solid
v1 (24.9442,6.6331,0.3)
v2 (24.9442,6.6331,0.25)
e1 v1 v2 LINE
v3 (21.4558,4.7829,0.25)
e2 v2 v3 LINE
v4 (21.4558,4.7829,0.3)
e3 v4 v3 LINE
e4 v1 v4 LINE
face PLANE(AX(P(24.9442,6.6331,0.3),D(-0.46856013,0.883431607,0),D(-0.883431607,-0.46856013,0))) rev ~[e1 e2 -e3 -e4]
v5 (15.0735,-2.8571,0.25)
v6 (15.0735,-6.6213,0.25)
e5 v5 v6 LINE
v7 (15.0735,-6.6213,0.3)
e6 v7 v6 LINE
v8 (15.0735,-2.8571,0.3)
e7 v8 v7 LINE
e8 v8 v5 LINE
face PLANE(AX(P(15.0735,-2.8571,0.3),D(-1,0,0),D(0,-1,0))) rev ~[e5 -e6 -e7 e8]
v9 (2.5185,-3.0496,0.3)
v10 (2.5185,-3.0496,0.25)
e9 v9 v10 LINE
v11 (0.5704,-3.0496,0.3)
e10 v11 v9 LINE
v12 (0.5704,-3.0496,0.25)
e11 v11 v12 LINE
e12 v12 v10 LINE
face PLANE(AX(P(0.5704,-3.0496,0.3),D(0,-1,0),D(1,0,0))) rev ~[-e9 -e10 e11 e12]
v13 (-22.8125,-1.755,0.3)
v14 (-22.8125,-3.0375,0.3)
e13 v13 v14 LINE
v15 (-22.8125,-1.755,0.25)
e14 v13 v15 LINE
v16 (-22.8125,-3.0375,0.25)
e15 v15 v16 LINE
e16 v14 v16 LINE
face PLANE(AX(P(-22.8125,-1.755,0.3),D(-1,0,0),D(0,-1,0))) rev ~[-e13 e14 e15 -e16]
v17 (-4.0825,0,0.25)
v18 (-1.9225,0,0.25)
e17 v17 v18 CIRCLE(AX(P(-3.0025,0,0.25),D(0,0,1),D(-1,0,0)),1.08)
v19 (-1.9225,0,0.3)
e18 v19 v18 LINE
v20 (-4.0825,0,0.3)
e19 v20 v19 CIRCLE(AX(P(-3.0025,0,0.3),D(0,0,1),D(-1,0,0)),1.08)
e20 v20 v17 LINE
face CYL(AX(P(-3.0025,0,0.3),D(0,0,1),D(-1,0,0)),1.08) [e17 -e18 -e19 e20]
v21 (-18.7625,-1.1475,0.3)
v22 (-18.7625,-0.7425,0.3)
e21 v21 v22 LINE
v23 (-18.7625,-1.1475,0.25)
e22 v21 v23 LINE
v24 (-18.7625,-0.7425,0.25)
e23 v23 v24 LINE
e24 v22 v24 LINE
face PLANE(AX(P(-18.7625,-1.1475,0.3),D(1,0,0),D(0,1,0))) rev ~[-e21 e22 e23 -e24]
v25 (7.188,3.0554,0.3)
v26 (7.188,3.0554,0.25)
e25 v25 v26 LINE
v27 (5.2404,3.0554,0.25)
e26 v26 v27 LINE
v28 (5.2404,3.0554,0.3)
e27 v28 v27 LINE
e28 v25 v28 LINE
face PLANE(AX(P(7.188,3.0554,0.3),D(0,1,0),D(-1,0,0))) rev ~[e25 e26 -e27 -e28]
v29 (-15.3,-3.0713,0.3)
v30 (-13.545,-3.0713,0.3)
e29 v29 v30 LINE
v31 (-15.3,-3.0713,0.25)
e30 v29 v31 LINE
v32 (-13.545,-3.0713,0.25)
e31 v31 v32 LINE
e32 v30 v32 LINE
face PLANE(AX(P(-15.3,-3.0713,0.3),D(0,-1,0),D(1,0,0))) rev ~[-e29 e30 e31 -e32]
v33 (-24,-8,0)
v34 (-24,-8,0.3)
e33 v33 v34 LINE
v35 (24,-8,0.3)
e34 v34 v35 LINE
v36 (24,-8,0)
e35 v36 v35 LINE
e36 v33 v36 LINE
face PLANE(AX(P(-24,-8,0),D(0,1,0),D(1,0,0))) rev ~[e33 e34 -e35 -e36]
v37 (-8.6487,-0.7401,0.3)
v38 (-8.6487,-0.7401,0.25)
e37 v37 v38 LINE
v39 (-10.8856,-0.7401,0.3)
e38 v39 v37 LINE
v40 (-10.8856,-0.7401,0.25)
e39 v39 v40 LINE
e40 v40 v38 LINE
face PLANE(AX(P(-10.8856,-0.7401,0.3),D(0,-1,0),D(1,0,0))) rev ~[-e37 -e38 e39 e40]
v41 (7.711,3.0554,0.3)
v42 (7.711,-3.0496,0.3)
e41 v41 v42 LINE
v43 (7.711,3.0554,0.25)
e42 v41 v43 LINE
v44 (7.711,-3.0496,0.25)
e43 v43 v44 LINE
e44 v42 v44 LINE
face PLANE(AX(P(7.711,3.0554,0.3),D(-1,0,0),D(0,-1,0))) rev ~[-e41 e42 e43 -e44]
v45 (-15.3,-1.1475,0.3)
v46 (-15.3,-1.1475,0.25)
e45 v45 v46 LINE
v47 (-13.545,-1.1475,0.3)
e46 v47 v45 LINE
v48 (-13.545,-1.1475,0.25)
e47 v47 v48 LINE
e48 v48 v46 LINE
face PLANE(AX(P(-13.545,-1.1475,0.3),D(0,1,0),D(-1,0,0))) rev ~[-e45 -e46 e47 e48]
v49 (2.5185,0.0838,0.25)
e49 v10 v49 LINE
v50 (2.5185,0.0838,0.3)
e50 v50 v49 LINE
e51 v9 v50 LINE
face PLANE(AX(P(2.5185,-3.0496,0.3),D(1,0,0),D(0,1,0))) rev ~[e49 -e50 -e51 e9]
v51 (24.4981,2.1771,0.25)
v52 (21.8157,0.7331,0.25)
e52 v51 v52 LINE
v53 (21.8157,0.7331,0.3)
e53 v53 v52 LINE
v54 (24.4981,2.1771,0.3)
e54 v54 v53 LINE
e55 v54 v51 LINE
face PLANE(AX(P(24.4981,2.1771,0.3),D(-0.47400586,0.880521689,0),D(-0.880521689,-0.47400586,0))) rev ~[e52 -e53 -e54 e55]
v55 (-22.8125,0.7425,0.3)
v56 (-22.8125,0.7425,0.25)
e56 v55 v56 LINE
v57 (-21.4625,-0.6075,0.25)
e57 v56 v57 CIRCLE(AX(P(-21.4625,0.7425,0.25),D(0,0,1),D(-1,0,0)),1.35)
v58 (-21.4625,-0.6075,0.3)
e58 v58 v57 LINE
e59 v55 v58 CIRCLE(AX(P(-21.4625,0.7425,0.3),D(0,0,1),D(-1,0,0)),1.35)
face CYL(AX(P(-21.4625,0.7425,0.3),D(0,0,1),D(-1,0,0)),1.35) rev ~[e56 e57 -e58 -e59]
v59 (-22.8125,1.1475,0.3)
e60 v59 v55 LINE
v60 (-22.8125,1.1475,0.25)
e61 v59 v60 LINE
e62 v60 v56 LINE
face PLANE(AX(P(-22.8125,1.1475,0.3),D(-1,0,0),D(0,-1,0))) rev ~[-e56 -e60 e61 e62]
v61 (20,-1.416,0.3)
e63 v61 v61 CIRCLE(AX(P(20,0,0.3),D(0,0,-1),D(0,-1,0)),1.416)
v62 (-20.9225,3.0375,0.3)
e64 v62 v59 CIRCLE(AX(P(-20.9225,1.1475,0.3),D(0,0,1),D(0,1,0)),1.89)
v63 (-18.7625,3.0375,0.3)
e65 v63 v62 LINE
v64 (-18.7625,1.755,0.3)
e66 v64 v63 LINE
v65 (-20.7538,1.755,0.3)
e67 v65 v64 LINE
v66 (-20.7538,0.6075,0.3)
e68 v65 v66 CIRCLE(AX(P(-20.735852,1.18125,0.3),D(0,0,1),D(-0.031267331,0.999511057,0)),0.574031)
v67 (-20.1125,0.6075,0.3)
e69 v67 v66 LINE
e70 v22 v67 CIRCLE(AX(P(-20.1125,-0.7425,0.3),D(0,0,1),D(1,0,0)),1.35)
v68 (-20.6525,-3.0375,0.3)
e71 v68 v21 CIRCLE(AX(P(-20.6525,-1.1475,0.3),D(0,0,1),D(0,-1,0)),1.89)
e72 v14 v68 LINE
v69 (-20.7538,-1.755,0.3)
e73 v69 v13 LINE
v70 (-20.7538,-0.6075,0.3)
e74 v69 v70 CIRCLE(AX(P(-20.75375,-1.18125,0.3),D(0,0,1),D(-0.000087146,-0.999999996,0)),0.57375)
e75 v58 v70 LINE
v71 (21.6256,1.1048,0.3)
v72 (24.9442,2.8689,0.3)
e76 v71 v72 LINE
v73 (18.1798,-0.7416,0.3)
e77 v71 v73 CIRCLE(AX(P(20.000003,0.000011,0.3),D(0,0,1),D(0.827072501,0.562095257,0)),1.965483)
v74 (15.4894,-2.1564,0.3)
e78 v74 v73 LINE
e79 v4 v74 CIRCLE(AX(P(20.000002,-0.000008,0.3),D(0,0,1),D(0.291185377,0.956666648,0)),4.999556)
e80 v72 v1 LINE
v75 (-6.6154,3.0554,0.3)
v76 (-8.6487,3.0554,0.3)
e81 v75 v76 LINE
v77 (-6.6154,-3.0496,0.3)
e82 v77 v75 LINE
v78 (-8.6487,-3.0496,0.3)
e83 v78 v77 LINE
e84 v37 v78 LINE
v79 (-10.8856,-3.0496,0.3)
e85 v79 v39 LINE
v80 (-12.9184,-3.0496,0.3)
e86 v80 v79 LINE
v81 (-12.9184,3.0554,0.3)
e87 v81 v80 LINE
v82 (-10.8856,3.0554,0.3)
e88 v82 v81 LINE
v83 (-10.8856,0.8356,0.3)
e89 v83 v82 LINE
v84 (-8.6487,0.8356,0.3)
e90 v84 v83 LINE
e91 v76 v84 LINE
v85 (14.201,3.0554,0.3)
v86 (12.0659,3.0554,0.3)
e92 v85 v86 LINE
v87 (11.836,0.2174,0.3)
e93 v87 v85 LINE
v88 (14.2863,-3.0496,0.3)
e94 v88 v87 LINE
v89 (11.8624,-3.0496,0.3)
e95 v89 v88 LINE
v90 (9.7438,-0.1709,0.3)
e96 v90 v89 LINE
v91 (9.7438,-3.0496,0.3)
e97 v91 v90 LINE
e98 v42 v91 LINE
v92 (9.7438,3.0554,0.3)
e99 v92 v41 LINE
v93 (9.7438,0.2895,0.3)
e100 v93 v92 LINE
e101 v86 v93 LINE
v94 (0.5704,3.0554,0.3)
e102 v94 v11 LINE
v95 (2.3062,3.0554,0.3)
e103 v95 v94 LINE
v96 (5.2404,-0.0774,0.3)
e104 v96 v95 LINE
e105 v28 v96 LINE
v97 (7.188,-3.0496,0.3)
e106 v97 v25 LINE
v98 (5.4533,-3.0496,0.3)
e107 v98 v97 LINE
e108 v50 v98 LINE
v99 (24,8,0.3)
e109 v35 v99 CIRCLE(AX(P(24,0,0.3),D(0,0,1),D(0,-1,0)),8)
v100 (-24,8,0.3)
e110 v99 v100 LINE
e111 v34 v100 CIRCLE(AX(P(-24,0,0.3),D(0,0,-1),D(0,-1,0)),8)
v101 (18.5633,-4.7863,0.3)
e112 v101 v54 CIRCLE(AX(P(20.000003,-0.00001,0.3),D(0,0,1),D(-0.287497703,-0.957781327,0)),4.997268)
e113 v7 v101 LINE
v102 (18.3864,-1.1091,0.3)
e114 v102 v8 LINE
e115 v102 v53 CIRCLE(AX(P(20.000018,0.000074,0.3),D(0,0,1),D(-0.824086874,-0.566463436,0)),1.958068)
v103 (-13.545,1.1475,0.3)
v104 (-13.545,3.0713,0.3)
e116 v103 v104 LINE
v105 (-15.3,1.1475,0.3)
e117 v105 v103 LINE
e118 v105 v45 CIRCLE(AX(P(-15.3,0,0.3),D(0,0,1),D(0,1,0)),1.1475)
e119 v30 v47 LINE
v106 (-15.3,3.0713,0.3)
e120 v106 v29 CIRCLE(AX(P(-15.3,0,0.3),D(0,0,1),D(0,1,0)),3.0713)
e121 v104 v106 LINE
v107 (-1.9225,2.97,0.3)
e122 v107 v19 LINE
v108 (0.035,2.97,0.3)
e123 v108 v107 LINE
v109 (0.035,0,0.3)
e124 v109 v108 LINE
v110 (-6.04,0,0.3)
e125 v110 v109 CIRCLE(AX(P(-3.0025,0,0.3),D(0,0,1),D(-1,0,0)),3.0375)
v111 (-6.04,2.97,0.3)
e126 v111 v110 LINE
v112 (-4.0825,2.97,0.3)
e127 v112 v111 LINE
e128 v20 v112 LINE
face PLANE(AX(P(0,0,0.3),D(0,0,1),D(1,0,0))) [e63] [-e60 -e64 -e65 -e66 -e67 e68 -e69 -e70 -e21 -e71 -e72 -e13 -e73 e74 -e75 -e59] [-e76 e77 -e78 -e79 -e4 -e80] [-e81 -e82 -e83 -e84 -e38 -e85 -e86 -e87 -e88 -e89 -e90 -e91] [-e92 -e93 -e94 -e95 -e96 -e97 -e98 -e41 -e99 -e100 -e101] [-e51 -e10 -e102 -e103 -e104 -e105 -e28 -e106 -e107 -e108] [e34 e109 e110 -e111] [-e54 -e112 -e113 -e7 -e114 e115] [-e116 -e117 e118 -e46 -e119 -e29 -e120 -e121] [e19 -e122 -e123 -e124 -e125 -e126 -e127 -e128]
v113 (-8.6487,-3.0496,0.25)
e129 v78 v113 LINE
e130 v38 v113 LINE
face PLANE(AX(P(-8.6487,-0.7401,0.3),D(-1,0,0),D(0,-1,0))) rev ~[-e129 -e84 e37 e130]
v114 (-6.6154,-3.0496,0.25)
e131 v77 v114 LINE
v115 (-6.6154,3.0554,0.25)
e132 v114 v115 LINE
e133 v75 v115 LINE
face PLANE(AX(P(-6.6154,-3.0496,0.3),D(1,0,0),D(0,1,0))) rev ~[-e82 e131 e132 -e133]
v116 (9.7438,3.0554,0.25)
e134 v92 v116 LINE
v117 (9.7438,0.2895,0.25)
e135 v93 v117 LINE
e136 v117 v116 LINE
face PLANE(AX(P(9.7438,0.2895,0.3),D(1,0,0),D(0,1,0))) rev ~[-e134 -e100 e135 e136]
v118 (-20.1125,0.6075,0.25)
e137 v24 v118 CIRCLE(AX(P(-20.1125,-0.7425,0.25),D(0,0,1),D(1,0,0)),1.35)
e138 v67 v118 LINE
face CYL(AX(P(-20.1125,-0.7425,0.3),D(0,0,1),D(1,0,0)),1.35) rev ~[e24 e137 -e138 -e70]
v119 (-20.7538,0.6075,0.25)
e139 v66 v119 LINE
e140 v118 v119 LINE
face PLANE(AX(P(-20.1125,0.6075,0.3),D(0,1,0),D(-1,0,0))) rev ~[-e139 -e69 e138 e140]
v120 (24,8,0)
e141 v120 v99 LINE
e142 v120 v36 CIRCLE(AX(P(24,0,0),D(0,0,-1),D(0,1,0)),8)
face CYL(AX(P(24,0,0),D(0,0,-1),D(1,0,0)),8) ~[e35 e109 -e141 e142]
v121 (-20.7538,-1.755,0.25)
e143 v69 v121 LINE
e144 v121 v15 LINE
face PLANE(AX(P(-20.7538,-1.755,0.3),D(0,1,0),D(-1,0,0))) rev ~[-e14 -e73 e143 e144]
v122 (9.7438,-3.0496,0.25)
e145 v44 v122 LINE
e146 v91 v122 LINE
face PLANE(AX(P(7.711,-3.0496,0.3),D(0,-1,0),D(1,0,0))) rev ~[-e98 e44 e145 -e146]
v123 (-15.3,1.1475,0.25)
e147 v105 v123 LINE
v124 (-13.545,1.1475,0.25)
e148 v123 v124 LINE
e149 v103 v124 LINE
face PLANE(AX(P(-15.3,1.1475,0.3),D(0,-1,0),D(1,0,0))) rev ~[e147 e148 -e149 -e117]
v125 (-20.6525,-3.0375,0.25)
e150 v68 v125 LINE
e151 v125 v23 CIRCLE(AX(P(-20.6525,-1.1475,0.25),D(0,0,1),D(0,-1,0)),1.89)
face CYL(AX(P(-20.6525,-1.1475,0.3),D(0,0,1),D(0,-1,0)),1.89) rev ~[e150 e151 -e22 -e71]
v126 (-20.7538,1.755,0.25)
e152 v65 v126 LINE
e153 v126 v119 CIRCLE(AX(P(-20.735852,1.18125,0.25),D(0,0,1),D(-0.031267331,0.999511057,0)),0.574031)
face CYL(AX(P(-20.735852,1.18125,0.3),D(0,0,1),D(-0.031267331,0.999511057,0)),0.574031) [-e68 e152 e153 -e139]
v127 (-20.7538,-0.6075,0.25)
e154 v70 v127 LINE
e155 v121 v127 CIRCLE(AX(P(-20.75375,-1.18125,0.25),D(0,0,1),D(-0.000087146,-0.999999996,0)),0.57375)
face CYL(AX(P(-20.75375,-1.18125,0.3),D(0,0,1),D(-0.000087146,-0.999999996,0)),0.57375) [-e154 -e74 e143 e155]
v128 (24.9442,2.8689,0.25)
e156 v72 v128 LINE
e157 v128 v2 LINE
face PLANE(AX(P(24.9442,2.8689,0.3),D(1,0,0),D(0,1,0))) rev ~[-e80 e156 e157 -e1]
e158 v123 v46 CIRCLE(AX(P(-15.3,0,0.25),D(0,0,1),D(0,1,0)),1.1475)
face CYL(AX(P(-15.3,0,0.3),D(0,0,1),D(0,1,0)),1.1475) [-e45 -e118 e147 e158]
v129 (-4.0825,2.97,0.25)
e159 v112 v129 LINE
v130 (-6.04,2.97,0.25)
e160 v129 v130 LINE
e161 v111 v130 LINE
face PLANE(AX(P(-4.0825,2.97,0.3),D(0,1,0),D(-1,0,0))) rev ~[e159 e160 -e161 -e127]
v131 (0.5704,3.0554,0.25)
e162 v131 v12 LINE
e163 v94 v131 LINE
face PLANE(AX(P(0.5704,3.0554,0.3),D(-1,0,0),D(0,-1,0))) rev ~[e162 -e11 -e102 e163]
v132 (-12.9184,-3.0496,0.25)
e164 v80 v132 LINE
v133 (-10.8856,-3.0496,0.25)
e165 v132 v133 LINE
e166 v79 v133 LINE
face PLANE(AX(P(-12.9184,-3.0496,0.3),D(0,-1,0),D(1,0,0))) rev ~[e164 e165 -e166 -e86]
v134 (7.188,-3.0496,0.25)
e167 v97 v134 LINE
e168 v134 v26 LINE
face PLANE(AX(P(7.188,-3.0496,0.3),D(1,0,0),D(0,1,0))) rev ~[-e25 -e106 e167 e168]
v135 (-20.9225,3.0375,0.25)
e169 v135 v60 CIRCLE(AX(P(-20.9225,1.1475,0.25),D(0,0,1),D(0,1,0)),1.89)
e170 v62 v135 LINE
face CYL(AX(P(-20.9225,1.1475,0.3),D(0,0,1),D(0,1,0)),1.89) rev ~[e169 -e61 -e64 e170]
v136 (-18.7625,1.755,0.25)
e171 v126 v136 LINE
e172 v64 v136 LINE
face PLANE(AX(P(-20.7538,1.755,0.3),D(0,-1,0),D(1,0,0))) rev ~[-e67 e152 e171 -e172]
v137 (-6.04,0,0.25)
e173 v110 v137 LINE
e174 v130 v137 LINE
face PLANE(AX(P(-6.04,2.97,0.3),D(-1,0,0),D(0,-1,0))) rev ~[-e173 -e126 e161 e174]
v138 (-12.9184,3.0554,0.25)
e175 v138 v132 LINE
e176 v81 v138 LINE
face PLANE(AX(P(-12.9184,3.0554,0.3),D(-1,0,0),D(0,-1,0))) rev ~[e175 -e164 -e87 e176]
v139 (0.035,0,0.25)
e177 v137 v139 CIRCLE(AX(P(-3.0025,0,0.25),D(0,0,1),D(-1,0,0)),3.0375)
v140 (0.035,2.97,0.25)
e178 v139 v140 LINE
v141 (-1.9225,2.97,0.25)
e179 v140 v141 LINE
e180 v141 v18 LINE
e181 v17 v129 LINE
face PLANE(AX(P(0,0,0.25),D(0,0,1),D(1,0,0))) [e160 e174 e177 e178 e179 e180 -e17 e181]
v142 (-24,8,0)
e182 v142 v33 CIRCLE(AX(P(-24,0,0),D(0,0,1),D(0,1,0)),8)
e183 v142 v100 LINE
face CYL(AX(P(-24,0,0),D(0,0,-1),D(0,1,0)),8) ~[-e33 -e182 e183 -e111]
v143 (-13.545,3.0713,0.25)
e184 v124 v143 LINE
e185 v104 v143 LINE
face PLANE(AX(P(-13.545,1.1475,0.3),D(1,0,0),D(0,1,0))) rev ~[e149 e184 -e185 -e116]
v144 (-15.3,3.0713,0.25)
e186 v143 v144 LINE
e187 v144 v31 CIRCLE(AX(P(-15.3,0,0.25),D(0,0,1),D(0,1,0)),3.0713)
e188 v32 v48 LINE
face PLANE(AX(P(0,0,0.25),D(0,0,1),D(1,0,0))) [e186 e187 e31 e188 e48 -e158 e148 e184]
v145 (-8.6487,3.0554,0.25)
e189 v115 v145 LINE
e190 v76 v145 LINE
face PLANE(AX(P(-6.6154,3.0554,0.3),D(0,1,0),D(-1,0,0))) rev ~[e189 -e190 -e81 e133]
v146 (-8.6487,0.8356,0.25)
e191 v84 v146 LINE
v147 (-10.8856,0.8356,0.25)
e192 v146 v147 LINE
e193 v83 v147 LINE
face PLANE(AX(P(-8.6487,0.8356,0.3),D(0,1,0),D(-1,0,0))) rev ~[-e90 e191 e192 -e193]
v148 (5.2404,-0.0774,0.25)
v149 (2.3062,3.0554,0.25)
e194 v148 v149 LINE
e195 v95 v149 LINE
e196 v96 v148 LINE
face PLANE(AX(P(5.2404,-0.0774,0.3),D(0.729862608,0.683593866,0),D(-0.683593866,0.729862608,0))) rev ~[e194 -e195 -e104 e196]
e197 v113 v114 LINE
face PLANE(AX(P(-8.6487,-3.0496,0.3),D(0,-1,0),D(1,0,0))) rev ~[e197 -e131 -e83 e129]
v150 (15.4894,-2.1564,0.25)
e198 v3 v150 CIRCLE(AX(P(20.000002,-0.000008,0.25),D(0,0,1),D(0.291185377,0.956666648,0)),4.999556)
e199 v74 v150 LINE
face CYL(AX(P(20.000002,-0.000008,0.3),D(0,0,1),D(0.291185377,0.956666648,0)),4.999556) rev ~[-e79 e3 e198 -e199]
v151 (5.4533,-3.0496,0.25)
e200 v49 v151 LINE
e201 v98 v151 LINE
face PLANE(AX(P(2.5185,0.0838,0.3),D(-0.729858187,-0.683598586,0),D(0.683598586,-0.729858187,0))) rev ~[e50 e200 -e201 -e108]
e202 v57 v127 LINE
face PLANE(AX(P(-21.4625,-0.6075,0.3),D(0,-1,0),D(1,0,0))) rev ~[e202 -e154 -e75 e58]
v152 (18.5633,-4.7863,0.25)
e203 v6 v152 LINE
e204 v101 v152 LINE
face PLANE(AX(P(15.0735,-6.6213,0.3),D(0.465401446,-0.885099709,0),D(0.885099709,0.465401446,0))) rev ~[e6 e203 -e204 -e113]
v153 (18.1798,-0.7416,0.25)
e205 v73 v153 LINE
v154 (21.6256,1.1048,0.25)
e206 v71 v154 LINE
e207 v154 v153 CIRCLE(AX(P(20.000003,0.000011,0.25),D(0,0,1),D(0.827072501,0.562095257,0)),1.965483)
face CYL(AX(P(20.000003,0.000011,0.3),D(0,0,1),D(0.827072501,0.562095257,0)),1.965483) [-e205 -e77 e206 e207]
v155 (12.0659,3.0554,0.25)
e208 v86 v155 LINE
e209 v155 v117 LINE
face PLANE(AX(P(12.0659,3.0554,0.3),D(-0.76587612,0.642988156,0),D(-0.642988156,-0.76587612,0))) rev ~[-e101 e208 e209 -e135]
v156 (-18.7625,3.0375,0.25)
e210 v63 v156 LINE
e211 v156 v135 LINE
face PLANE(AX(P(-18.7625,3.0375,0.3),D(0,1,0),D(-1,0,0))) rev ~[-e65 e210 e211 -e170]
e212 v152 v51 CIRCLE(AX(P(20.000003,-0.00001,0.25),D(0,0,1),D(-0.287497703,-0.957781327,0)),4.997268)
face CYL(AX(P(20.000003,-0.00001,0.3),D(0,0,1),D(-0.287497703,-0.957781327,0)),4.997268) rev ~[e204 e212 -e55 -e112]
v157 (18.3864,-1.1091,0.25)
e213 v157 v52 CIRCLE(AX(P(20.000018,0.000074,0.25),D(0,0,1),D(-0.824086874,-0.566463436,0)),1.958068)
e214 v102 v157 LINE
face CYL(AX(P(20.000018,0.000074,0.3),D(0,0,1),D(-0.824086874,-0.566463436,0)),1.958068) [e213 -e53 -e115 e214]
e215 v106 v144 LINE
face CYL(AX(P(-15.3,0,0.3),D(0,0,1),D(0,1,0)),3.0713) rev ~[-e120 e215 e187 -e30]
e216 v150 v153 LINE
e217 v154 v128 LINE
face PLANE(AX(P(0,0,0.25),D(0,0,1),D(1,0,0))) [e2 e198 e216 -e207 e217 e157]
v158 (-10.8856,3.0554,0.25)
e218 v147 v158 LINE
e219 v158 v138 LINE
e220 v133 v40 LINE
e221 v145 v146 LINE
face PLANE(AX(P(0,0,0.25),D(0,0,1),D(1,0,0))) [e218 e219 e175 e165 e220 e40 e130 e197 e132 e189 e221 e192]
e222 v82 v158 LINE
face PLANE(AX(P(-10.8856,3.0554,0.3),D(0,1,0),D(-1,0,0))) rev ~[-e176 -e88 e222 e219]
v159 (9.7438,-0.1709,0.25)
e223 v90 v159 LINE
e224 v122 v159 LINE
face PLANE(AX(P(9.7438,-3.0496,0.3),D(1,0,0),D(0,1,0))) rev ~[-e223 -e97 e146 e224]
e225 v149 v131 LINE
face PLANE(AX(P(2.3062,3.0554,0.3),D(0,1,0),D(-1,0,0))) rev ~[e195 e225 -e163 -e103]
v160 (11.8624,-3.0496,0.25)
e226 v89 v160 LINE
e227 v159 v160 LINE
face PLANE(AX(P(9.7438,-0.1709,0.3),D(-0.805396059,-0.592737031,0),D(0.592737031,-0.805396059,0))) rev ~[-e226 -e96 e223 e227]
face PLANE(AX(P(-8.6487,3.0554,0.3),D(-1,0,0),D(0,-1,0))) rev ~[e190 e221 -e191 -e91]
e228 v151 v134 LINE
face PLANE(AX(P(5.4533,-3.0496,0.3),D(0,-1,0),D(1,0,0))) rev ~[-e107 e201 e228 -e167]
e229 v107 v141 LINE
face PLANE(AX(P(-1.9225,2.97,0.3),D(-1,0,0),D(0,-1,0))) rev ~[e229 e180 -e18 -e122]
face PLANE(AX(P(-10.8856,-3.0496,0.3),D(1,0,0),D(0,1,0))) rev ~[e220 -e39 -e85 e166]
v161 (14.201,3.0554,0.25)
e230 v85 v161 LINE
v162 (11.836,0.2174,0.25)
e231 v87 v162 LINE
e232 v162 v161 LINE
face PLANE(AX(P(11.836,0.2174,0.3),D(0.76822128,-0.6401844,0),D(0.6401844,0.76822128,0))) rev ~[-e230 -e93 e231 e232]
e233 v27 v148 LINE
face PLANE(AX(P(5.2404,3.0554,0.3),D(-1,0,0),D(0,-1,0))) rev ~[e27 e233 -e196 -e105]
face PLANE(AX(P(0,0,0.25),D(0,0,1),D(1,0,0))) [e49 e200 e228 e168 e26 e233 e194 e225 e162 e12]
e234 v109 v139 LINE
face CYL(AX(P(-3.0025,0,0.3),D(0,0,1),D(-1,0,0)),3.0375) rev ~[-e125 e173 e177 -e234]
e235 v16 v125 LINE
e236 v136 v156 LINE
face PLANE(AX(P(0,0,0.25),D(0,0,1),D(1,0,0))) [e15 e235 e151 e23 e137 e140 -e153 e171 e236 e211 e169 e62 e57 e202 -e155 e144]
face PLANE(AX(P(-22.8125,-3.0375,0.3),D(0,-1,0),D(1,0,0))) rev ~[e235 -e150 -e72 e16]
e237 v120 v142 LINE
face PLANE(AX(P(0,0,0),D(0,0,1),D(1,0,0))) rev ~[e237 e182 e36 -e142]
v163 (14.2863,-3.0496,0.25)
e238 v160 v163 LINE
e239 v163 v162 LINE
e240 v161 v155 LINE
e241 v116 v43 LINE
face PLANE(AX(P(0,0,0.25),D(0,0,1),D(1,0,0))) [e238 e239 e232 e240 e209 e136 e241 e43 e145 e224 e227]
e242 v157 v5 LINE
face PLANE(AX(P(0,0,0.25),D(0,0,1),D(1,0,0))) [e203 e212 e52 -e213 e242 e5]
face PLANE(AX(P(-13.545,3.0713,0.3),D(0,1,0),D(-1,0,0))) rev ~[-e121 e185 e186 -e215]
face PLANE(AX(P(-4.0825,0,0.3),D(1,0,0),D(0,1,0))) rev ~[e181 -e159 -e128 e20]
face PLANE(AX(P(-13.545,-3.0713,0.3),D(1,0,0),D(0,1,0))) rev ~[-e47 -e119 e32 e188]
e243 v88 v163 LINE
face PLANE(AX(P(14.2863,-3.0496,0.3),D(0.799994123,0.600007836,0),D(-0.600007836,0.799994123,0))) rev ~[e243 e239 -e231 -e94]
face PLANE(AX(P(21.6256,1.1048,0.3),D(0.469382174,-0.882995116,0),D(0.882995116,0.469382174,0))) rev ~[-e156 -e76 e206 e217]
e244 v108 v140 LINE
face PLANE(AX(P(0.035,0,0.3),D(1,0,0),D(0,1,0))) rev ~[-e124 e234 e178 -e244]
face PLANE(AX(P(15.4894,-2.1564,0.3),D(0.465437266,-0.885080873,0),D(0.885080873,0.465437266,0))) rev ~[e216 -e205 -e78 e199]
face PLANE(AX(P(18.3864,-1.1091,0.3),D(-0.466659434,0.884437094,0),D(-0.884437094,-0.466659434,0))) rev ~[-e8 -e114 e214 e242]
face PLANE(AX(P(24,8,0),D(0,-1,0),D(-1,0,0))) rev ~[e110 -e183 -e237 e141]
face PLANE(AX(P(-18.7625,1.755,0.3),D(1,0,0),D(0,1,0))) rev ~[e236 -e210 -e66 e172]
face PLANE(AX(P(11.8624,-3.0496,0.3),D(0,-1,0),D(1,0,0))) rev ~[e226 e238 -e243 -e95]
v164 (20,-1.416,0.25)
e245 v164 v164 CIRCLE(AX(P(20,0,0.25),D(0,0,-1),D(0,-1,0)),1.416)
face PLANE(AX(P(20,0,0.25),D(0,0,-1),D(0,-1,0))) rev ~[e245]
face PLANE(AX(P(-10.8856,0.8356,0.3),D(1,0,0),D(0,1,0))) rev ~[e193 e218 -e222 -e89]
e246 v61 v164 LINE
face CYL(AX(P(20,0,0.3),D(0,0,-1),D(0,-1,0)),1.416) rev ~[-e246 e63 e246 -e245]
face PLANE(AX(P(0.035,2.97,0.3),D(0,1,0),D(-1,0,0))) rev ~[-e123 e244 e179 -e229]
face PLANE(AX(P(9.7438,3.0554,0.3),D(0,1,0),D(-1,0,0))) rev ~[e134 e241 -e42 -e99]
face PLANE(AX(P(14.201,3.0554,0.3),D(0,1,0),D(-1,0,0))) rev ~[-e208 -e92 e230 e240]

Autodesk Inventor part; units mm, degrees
sketch "Sketch_1" plane through (0, 0, 0) normal (0, 0, 1) x (1, 0, 0)
  arc A0 (-32, 0) -> (-24, -8) centre (-24, 0) ccw
  line L0 (-24, -8) -> (24, -8)
  arc A1 (24, -8) -> (32, 0) centre (24, 0) ccw
  arc A2 (32, 0) -> (24, 8) centre (24, 0) ccw
  line L1 (24, 8) -> (-24, 8)
  arc A3 (-24, 8) -> (-32, 0) centre (-24, 0) ccw
extrude "Extrusion1" add sketch "Sketch_1" along normal blind 0.3
sketch "Sketch_13" plane through (0, 0, 0.3) normal (0, 0, 1) x (1, 0, 0)
  line L0 (-12.9184, 3.0554) -> (-12.9184, -3.0496)
  line L1 (-12.9184, -3.0496) -> (-10.8856, -3.0496)
  line L2 (-10.8856, -3.0496) -> (-10.8856, -0.7401)
  line L3 (-10.8856, -0.7401) -> (-8.6487, -0.7401)
  line L4 (-8.6487, -0.7401) -> (-8.6487, -3.0496)
  line L5 (-8.6487, -3.0496) -> (-6.6154, -3.0496)
  line L6 (-6.6154, -3.0496) -> (-6.6154, 3.0554)
  line L7 (-6.6154, 3.0554) -> (-8.6487, 3.0554)
  line L8 (-8.6487, 3.0554) -> (-8.6487, 0.8356)
  line L9 (-8.6487, 0.8356) -> (-10.8856, 0.8356)
  line L10 (-10.8856, 0.8356) -> (-10.8856, 3.0554)
  line L11 (-10.8856, 3.0554) -> (-12.9184, 3.0554)
extrude "Extrusion2" cut sketch "Sketch_13" against normal blind 0.05
sketch "Sketch_15" plane through (0, 0, 0.3) normal (0, 0, 1) x (1, 0, 0)
  line L0 (0.5704, 3.0554) -> (0.5704, -3.0496)
  line L1 (0.5704, -3.0496) -> (2.5185, -3.0496)
  line L2 (2.5185, -3.0496) -> (2.5185, 0.0838)
  line L3 (2.5185, 0.0838) -> (5.4533, -3.0496)
  line L4 (5.4533, -3.0496) -> (7.188, -3.0496)
  line L5 (7.188, -3.0496) -> (7.188, 3.0554)
  line L6 (7.188, 3.0554) -> (5.2404, 3.0554)
  line L7 (5.2404, 3.0554) -> (5.2404, -0.0774)
  line L8 (5.2404, -0.0774) -> (2.3062, 3.0554)
  line L9 (2.3062, 3.0554) -> (0.5704, 3.0554)
extrude "Extrusion3" cut sketch "Sketch_15" against normal blind 0.05
sketch "Sketch_16" plane through (0, 0, 0.3) normal (0, 0, 1) x (1, 0, 0)
  line L0 (7.711, 3.0554) -> (7.711, -3.0496)
  line L1 (7.711, -3.0496) -> (9.7438, -3.0496)
  line L2 (9.7438, -3.0496) -> (9.7438, -0.1709)
  line L3 (9.7438, -0.1709) -> (11.8624, -3.0496)
  line L4 (11.8624, -3.0496) -> (14.2863, -3.0496)
  line L5 (14.2863, -3.0496) -> (11.836, 0.2174)
  line L6 (11.836, 0.2174) -> (14.201, 3.0554)
  line L7 (14.201, 3.0554) -> (12.0659, 3.0554)
  line L8 (12.0659, 3.0554) -> (9.7438, 0.2895)
  line L9 (9.7438, 0.2895) -> (9.7438, 3.0554)
  line L10 (9.7438, 3.0554) -> (7.711, 3.0554)
extrude "Extrusion4" cut sketch "Sketch_16" against normal blind 0.05
sketch "Sketch_5" plane through (0, 0, 0.3) normal (0, 0, 1) x (1, 0, 0)
  arc A0 (-22.8125, 0.7425) -> (-21.4625, -0.6075) centre (-21.4625, 0.7425) ccw
  line L0 (-21.4625, -0.6075) -> (-20.7538, -0.6075)
  arc A1 (-20.7538, -1.755) -> (-20.7538, -0.6075) centre (-20.7538, -1.1812) ccw
  line L1 (-20.7538, -1.755) -> (-22.8125, -1.755)
  line L2 (-22.8125, -1.755) -> (-22.8125, -3.0375)
  line L3 (-22.8125, -3.0375) -> (-20.6525, -3.0375)
  arc A2 (-20.6525, -3.0375) -> (-18.7625, -1.1475) centre (-20.6525, -1.1475) ccw
  line L4 (-18.7625, -1.1475) -> (-18.7625, -0.7425)
  arc A3 (-18.7625, -0.7425) -> (-20.1125, 0.6075) centre (-20.1125, -0.7425) ccw
  line L5 (-20.1125, 0.6075) -> (-20.7538, 0.6075)
  arc A4 (-20.7538, 1.755) -> (-20.7538, 0.6075) centre (-20.7358, 1.1812) ccw
  line L6 (-20.7538, 1.755) -> (-18.7625, 1.755)
  line L7 (-18.7625, 1.755) -> (-18.7625, 3.0375)
  line L8 (-18.7625, 3.0375) -> (-20.9225, 3.0375)
  arc A5 (-20.9225, 3.0375) -> (-22.8125, 1.1475) centre (-20.9225, 1.1475) ccw
  line L9 (-22.8125, 1.1475) -> (-22.8125, 0.7425)
extrude "Extrusion5" cut sketch "Sketch_5" against normal blind 0.05
sketch "Sketch_6" plane through (0, 0, 0.3) normal (0, 0, 1) x (1, 0, 0)
  arc A0 (-15.3, 3.0713) -> (-15.3, -3.0713) centre (-15.3, 0) ccw
  line L0 (-15.3, -3.0713) -> (-13.545, -3.0713)
  line L1 (-13.545, -3.0713) -> (-13.545, -1.1475)
  line L2 (-13.545, -1.1475) -> (-15.3, -1.1475)
  arc A1 (-15.3, 1.1475) -> (-15.3, -1.1475) centre (-15.3, 0) ccw
  line L3 (-15.3, 1.1475) -> (-13.545, 1.1475)
  line L4 (-13.545, 1.1475) -> (-13.545, 3.0713)
  line L5 (-13.545, 3.0713) -> (-15.3, 3.0713)
extrude "Extrusion6" cut sketch "Sketch_6" against normal blind 0.05
sketch "Sketch_7" plane through (0, 0, 0.3) normal (0, 0, 1) x (1, 0, 0)
  line L0 (-6.04, 2.97) -> (-6.04, 0)
  arc A0 (-6.04, 0) -> (0.035, 0) centre (-3.0025, 0) ccw
  line L1 (0.035, 0) -> (0.035, 2.97)
  line L2 (0.035, 2.97) -> (-1.9225, 2.97)
  line L3 (-1.9225, 2.97) -> (-1.9225, 0)
  arc A1 (-4.0825, 0) -> (-1.9225, 0) centre (-3.0025, 0) ccw
  line L4 (-4.0825, 0) -> (-4.0825, 2.97)
  line L5 (-4.0825, 2.97) -> (-6.04, 2.97)
extrude "Extrusion7" cut sketch "Sketch_7" against normal blind 0.05
sketch "Sketch8" plane through (0, 0, 0.3) normal (0, 0, 1) x (1, 0, 0)
  point P0 (20, 0)
hole "Hole1" at (20, 0, 0.3) direction (0, 0, -1) diameter 2.832 depth 0.05
sketch "Sketch_3" plane through (0, 0, 0.3) normal (0, 0, 1) x (1, 0, 0)
  arc A0 (21.4558, 4.7829) -> (15.4894, -2.1564) centre (20, 0) ccw
  line L0 (15.4894, -2.1564) -> (18.1798, -0.7416)
  arc A1 (21.6256, 1.1048) -> (18.1798, -0.7416) centre (20, 0) ccw
  line L1 (21.6256, 1.1048) -> (24.9442, 2.8689)
  line L2 (24.9442, 2.8689) -> (24.9442, 6.6331)
  line L3 (24.9442, 6.6331) -> (21.4558, 4.7829)
extrude "Extrusion8" cut sketch "Sketch_3" against normal blind 0.05
sketch "Sketch_4" plane through (0, 0, 0.3) normal (0, 0, 1) x (1, 0, 0)
  line L0 (15.0735, -2.8571) -> (15.0735, -6.6213)
  line L1 (15.0735, -6.6213) -> (18.5633, -4.7863)
  arc A0 (18.5633, -4.7863) -> (24.4981, 2.1771) centre (20, 0) ccw
  line L2 (24.4981, 2.1771) -> (21.8157, 0.7331)
  arc A1 (18.3864, -1.1091) -> (21.8157, 0.7331) centre (20, 0) ccw
  line L3 (18.3864, -1.1091) -> (15.0735, -2.8571)
extrude "Extrusion9" cut sketch "Sketch_4" against normal blind 0.05
ref_plane "aluschild_XY" through (0, 0, 0) normal (0, 0, 1) x (1, 0, 0)
ref_plane "aluschild_YZ" through (0, 0, 0) normal (1, 0, 0) x (0, 1, 0)
ref_plane "aluschild_ZX" through (0, 0, 0) normal (0, 1, 0) x (0, 0, 1)
properties part number "SCHUNK-9957615 Typenschild 16x64x0.3"
